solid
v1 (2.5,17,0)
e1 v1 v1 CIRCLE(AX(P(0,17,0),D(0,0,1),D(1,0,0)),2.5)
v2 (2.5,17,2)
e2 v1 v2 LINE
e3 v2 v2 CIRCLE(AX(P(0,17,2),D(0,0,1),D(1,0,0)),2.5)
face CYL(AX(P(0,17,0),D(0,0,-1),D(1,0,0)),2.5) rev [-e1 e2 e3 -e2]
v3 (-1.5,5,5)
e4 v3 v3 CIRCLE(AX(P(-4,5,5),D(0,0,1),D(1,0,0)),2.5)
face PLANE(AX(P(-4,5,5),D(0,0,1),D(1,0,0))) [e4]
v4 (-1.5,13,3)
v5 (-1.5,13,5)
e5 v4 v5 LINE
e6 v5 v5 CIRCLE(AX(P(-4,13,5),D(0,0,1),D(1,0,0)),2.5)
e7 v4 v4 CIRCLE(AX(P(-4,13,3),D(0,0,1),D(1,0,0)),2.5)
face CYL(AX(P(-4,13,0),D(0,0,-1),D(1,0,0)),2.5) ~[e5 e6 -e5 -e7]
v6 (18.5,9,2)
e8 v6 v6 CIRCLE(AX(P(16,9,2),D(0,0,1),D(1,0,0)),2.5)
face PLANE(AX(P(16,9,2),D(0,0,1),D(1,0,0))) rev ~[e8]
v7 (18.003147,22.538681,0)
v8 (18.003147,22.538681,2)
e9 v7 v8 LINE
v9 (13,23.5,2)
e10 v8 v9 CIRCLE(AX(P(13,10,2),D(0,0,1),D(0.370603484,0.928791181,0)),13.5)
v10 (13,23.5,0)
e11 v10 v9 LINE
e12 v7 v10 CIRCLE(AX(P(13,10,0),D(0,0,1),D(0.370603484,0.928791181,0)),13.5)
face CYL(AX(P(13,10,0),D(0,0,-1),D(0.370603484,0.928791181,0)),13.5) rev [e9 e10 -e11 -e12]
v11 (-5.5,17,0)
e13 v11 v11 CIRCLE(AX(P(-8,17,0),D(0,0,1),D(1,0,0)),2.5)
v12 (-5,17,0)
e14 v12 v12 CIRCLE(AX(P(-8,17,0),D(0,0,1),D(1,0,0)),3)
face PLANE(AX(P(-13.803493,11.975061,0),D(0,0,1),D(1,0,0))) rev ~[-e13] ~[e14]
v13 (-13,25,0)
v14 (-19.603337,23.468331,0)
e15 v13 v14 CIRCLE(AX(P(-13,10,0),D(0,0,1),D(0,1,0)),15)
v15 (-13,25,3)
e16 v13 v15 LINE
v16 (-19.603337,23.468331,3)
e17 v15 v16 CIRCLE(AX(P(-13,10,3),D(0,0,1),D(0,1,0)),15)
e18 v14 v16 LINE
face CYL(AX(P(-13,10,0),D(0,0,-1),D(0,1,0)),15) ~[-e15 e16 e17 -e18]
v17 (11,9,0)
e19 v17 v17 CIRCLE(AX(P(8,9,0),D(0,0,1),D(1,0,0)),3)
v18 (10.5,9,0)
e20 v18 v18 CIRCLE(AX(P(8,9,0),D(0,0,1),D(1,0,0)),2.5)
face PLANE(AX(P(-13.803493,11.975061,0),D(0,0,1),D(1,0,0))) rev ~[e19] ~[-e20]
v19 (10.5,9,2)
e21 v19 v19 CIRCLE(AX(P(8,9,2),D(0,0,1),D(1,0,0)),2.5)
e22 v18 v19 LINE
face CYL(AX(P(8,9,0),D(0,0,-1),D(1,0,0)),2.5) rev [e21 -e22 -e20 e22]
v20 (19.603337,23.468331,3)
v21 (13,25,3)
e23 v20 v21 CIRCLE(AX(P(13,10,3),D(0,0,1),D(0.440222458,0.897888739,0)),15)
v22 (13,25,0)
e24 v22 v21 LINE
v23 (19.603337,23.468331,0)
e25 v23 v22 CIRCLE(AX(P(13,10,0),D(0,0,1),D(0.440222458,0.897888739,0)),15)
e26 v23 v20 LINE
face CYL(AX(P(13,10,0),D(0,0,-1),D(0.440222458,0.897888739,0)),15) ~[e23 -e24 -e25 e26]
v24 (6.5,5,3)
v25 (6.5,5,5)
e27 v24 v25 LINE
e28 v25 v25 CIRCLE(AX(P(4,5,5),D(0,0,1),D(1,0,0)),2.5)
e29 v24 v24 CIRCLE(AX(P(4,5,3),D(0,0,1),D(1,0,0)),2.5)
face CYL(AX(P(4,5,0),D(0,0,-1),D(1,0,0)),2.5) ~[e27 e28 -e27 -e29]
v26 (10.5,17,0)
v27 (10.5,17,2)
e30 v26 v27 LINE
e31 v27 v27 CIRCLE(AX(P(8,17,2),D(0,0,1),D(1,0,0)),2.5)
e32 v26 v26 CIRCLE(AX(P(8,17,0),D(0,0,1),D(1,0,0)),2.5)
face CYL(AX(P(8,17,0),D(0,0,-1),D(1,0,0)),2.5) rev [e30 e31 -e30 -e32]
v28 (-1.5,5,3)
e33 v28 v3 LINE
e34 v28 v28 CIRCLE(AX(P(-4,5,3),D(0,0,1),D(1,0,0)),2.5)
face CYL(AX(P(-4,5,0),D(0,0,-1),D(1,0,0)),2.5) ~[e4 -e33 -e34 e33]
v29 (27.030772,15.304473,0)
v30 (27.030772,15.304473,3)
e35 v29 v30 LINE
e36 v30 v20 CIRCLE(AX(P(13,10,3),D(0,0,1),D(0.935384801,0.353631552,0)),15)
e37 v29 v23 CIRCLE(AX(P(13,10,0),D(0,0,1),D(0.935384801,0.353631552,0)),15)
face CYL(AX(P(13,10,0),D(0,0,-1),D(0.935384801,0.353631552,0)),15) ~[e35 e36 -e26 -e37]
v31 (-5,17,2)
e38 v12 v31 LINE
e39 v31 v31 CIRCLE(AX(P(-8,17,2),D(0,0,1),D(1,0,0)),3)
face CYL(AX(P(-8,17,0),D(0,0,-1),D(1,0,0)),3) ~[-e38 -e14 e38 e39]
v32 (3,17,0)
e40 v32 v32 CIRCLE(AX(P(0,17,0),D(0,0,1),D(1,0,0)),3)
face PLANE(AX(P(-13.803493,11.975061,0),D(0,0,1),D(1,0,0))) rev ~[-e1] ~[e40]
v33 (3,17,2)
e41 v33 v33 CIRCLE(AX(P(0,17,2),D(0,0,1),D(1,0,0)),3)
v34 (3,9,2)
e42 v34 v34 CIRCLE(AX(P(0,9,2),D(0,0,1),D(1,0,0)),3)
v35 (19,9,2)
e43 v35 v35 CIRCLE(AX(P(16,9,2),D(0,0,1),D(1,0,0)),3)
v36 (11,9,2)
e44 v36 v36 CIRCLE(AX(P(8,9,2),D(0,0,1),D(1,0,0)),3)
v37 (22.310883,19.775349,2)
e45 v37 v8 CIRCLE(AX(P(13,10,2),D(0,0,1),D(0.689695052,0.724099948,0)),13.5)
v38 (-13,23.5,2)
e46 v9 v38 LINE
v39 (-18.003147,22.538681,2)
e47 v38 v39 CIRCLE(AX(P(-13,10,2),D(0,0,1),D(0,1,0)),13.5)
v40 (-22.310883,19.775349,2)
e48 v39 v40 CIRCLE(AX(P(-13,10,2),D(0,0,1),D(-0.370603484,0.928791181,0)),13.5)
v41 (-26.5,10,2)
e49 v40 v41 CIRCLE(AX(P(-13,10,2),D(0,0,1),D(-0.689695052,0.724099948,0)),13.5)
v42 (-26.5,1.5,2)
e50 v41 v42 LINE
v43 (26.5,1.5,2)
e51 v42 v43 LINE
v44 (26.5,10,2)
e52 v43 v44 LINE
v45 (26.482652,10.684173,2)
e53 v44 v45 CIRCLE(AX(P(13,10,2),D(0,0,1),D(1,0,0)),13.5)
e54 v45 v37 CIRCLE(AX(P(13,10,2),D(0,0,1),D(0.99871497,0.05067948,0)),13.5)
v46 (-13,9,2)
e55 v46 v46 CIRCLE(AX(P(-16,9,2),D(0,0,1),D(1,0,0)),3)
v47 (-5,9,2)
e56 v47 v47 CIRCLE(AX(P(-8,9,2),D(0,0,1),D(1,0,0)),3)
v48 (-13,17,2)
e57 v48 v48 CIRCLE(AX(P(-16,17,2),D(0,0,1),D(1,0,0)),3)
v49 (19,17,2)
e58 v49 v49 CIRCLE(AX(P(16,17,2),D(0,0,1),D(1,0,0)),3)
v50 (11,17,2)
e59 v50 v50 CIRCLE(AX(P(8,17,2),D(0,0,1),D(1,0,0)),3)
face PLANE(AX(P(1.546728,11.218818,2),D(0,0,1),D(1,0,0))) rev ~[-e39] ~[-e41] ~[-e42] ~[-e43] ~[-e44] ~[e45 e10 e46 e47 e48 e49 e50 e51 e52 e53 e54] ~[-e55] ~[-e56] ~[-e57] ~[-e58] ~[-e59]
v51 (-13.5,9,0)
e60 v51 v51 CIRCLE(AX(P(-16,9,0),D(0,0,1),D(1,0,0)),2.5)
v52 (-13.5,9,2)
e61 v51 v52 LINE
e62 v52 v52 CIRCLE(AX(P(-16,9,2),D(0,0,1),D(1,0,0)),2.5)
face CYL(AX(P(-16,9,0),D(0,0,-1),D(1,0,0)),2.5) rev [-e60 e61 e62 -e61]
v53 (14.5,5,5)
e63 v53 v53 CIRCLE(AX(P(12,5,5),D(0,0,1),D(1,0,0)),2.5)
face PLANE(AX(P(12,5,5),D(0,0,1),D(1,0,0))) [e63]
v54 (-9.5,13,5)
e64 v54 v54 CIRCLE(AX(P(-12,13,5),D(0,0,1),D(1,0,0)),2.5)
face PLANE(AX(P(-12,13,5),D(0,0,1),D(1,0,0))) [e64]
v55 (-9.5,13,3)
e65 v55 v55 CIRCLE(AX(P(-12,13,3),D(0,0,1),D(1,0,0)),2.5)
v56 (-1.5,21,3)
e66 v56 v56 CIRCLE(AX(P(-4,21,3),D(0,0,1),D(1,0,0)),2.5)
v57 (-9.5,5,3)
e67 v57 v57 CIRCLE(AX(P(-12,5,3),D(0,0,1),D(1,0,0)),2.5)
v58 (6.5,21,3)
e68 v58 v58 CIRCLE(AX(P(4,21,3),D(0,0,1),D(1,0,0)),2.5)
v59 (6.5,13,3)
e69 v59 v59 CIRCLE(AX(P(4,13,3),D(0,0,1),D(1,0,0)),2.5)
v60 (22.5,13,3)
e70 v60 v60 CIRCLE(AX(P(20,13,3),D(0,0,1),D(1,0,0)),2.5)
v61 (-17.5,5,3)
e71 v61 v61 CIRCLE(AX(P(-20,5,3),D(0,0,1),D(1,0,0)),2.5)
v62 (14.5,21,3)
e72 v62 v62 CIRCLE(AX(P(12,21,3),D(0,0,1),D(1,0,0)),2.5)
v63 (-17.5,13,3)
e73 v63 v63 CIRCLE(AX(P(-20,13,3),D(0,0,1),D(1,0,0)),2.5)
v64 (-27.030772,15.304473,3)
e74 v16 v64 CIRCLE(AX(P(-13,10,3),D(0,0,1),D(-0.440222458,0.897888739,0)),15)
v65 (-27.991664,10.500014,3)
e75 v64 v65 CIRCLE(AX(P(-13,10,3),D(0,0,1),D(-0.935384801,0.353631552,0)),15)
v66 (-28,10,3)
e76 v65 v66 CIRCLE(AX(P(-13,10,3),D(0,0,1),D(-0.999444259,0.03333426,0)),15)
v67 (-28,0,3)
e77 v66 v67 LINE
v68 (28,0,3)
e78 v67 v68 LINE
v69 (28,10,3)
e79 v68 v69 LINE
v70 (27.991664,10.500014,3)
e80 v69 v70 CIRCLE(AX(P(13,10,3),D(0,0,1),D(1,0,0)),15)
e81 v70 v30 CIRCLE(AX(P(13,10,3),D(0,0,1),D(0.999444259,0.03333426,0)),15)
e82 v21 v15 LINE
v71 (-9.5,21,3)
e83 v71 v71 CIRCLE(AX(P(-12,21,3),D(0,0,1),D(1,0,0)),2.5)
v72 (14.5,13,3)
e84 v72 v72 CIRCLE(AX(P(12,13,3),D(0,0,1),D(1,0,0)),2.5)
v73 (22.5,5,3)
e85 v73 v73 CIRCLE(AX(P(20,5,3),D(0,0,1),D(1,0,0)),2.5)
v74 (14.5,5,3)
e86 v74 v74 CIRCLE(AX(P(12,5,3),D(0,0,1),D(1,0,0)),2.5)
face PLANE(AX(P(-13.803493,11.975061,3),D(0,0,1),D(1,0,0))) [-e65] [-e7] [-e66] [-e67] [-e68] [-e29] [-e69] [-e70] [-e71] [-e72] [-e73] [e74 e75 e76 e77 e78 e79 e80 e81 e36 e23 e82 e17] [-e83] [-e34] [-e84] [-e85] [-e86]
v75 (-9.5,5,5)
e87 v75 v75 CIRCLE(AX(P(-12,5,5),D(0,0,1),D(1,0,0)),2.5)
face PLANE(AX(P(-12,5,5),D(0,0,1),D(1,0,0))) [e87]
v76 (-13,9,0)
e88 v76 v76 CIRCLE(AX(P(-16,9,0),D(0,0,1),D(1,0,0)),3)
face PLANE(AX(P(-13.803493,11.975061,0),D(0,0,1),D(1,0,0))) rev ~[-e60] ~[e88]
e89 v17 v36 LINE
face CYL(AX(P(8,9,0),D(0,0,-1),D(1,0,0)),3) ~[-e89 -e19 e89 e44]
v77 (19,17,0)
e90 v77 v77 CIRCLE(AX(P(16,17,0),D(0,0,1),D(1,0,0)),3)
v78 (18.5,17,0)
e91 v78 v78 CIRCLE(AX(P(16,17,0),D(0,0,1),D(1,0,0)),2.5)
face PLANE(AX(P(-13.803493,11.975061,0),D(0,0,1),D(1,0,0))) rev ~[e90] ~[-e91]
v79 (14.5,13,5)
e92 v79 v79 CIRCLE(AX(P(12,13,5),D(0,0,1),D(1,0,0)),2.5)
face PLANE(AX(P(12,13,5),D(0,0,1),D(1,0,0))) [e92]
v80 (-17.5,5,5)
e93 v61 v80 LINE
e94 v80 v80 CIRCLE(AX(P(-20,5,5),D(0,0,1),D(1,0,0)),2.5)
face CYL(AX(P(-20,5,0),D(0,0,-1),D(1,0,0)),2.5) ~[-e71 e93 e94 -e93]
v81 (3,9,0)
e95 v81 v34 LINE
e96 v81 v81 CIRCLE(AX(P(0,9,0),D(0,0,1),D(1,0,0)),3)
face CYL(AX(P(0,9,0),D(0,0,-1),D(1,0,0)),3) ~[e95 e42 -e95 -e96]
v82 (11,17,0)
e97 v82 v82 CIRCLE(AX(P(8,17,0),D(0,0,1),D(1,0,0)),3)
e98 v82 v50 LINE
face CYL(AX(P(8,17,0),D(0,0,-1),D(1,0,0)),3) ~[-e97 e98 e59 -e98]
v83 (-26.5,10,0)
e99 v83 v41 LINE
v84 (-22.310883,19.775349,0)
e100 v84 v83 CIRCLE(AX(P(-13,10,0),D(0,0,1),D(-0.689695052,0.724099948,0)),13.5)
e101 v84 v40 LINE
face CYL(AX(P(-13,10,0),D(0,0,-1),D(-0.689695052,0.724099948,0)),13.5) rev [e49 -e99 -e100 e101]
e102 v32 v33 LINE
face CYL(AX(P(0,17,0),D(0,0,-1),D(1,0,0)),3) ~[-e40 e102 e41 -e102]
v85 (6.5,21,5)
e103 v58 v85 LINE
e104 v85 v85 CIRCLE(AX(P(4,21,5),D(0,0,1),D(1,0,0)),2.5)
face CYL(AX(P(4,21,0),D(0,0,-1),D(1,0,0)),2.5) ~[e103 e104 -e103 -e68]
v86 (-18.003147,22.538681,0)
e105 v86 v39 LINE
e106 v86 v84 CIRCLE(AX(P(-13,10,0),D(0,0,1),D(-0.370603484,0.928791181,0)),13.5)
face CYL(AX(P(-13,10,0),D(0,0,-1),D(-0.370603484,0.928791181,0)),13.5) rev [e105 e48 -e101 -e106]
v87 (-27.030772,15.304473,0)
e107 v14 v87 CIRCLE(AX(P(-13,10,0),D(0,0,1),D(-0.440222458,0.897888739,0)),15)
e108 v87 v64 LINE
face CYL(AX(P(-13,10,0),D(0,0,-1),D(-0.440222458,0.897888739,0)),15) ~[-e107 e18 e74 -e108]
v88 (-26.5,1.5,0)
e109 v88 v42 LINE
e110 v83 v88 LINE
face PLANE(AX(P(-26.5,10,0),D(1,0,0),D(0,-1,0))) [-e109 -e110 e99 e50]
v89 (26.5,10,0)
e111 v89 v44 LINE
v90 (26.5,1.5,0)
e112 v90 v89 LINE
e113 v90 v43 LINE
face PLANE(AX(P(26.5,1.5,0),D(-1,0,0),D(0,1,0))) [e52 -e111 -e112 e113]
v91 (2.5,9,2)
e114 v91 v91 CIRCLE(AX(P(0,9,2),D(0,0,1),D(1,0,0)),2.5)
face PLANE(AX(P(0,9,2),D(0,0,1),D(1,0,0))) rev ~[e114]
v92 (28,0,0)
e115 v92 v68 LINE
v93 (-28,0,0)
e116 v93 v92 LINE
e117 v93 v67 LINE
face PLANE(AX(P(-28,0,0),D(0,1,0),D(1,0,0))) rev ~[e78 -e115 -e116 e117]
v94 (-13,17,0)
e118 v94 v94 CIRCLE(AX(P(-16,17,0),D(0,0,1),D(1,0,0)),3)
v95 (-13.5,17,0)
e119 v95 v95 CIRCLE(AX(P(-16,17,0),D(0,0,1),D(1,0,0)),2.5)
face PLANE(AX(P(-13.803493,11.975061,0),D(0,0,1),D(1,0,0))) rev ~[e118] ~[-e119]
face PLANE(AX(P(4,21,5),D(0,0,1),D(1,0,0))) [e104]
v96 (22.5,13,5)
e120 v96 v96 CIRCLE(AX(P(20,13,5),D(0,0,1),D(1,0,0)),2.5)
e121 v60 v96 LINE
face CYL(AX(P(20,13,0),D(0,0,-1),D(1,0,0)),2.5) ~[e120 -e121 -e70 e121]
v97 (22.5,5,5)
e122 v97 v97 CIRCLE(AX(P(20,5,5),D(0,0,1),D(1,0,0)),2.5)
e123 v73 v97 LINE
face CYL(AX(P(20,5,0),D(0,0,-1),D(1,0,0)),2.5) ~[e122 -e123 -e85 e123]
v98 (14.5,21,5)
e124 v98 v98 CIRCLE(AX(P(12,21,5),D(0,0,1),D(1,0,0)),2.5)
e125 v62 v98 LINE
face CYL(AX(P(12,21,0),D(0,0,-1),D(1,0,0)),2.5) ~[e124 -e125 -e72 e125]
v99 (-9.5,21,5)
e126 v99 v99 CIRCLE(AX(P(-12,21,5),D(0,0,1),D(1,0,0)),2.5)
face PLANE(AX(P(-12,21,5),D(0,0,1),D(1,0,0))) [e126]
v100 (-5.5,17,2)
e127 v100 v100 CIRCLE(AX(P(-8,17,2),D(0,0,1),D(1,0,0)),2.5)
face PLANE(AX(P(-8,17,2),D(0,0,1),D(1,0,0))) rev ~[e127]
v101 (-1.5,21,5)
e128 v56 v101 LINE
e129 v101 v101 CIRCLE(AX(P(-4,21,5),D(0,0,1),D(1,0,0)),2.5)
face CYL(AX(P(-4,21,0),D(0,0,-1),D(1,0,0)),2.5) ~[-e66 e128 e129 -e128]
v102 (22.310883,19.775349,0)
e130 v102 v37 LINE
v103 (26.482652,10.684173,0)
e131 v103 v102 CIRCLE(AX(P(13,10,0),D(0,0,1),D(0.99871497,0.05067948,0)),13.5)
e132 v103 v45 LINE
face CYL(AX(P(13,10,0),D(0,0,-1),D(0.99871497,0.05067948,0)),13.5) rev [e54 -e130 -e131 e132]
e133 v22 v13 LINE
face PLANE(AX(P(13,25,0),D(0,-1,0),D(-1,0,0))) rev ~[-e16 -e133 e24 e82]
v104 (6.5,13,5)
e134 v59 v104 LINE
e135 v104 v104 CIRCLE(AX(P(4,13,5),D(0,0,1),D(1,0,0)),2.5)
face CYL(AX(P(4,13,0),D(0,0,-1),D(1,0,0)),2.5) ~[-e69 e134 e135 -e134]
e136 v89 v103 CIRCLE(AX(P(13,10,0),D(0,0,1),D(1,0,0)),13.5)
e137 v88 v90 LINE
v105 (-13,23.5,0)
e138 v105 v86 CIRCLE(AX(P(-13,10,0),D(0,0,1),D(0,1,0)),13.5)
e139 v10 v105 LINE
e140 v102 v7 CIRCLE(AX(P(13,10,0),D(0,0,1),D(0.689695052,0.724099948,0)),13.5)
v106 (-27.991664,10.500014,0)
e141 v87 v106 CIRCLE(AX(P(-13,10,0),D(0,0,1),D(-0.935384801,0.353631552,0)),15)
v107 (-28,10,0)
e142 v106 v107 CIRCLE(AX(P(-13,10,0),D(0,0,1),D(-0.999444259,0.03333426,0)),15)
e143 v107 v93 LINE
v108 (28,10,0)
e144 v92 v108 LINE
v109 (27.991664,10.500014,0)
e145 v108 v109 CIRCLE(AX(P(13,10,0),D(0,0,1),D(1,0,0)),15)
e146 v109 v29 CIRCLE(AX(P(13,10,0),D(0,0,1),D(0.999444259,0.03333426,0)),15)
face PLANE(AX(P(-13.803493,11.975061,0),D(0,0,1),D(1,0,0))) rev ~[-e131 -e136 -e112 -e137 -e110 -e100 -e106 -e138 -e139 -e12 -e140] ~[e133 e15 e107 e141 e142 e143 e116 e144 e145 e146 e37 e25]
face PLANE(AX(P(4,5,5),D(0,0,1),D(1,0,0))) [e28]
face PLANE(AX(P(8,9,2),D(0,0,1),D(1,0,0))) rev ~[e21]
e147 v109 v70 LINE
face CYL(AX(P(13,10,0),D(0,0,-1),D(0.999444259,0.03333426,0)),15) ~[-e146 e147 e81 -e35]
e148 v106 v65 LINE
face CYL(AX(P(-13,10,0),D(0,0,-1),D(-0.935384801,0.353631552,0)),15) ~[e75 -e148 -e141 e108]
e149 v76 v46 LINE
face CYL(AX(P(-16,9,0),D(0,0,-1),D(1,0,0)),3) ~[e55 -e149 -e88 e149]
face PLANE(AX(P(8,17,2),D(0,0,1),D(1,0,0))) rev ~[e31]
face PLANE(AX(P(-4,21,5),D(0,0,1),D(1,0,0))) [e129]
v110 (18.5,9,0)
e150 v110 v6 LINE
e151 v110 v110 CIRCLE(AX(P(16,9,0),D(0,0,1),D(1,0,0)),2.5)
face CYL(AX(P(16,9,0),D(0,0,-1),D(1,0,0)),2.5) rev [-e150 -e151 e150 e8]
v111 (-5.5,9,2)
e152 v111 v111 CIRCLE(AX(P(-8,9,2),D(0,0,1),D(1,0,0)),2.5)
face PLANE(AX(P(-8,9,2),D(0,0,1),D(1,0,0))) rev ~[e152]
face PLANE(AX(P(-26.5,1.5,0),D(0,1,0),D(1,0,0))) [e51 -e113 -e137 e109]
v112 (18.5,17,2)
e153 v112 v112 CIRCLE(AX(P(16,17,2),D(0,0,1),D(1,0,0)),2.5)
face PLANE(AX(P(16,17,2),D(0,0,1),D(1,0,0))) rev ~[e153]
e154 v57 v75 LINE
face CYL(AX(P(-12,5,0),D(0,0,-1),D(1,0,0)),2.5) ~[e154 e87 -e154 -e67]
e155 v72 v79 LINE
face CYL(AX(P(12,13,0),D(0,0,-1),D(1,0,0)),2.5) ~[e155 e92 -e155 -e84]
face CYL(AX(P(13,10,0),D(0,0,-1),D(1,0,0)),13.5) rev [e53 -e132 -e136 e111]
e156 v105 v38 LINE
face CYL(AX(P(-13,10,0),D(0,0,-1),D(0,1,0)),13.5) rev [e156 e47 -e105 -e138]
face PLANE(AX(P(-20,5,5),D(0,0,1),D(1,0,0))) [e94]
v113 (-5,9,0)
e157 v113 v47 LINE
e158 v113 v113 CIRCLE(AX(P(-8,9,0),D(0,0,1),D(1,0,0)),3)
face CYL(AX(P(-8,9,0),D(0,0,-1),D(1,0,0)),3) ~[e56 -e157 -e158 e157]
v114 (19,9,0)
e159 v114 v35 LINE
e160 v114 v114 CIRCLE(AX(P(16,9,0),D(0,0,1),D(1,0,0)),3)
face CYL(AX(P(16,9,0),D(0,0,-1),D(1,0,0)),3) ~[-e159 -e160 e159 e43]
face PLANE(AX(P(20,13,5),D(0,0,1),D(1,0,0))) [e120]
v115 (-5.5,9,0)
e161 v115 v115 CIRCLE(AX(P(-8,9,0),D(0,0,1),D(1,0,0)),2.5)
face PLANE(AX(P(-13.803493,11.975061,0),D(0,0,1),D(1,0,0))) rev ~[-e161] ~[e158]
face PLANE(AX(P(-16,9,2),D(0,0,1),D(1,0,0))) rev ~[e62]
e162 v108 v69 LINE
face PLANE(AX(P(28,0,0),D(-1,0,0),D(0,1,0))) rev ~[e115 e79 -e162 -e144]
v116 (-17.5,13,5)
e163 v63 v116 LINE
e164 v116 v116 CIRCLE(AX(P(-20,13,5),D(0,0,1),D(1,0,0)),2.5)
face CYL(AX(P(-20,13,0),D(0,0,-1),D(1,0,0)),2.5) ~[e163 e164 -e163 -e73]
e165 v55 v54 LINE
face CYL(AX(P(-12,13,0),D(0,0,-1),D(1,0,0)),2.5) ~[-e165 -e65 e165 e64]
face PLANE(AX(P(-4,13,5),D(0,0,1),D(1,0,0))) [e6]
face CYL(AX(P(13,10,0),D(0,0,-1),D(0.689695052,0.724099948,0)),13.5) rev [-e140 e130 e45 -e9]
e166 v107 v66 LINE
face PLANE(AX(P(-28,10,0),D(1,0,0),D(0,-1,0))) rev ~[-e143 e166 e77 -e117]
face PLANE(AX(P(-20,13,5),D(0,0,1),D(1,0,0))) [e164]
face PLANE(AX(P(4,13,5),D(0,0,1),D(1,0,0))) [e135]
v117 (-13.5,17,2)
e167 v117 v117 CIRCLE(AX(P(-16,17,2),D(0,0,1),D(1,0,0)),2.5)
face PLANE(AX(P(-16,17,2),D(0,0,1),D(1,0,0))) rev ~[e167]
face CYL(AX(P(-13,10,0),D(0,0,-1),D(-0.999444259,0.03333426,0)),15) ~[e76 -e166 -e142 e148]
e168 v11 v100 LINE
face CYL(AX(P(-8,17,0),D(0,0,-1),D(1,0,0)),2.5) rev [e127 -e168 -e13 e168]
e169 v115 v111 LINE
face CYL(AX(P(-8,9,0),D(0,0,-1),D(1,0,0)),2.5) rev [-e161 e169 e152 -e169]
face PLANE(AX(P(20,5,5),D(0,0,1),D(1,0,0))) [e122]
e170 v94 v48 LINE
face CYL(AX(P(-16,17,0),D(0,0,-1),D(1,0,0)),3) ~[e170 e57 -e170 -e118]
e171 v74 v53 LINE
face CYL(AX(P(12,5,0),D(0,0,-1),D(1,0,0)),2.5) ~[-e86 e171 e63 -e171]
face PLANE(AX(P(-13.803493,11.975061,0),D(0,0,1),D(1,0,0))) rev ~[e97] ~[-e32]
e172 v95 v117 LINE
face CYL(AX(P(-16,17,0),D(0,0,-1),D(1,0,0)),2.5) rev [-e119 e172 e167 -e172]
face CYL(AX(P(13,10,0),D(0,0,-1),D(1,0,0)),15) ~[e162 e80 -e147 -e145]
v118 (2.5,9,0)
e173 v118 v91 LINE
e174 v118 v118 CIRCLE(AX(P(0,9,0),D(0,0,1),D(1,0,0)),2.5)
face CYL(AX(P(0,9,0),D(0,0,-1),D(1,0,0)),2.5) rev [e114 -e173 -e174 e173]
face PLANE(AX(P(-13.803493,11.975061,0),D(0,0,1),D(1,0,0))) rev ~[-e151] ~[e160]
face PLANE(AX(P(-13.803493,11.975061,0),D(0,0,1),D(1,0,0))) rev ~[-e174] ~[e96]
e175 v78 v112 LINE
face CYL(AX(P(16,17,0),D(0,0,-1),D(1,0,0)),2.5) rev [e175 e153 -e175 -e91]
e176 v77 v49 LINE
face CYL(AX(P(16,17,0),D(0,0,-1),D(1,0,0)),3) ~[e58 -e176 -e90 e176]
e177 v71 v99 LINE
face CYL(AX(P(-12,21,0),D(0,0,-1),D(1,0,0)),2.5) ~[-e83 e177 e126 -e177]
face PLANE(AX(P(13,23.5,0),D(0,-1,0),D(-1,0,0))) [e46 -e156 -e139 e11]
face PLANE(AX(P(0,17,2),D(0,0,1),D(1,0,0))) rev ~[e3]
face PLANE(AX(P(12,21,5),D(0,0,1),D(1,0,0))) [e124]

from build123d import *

# Parameters (mm, degrees)
F0_R     = 2.5
F1_DEPTH = 3
F2_DEPTH = 5
F3_R     = 3
F3_R_2   = 2.5
F4_DEPTH = 2


with BuildPart() as f1:
    # F0 (on Top) → F1 (new body)
    with BuildSketch(Plane.XY):
        with BuildLine():
            Line((-28, 0), (0, 0))
            Line((0, 0), (0, 25))
            Line((0, 25), (-13, 25))
            ThreePointArc((-13, 25), (-16.3893239512, 24.6120663547), (-19.6033368631, 23.4683310871))
            ThreePointArc((-19.6033368631, 23.4683310871), (-18.0971524178, 22.6214718865), (-17.5, 21))
            ThreePointArc((-17.5, 21), (-20.3463811518, 18.5241122607), (-22.4040160781, 21.6860806776))
            ThreePointArc((-22.4040160781, 21.6860806776), (-25.1440747457, 18.8046265435), (-27.0307720104, 15.3044732813))
            ThreePointArc((-27.0307720104, 15.3044732813), (-25.9175651302, 14.3832805258), (-25.5, 13))
            ThreePointArc((-25.5, 13), (-26.2292882388, 11.235182769), (-27.991663887, 10.5000138982))
            ThreePointArc((-27.991663887, 10.5000138982), (-27.997915827, 10.2500416911), (-28, 10))
            Line((-28, 10), (-28, 7.5))
            ThreePointArc((-28, 7.5), (-26.232233047, 6.767766953), (-25.5, 5))
            ThreePointArc((-25.5, 5), (-26.232233047, 3.232233047), (-28, 2.5))
            Line((-28, 2.5), (-28, 0))
        make_face()
        with Locations((-20, 5)):
            Circle(F0_R, mode=Mode.SUBTRACT)
        with Locations((-12, 5)):
            Circle(F0_R, mode=Mode.SUBTRACT)
        with Locations((-4, 5)):
            Circle(F0_R, mode=Mode.SUBTRACT)
        with Locations((-20, 13)):
            Circle(F0_R, mode=Mode.SUBTRACT)
        with Locations((-12, 13)):
            Circle(F0_R, mode=Mode.SUBTRACT)
        with Locations((-4, 13)):
            Circle(F0_R, mode=Mode.SUBTRACT)
        with Locations((-12, 21)):
            Circle(F0_R, mode=Mode.SUBTRACT)
        with Locations((-4, 21)):
            Circle(F0_R, mode=Mode.SUBTRACT)
        with BuildLine():
            ThreePointArc((-17.5, 21), (-18.0971524178, 22.6214718865), (-19.6033368631, 23.4683310871))
            ThreePointArc((-19.6033368631, 23.4683310871), (-21.0531323829, 22.654922316), (-22.4040160781, 21.6860806776))
            ThreePointArc((-22.4040160781, 21.6860806776), (-20.3463811518, 18.5241122607), (-17.5, 21))
        make_face()
        with BuildLine():
            Line((0, 25), (0, 0))
            Line((0, 0), (28, 0))
            Line((28, 0), (28, 2.5))
            ThreePointArc((28, 2.5), (25.5, 5), (28, 7.5))
            Line((28, 7.5), (28, 10))
            ThreePointArc((28, 10), (27.997915827, 10.2500416911), (27.991663887, 10.5000138982))
            ThreePointArc((27.991663887, 10.5000138982), (25.5485483108, 12.5097096622), (27.0307720104, 15.3044732813))
            ThreePointArc((27.0307720104, 15.3044732813), (25.1440747457, 18.8046265435), (22.4040160781, 21.6860806776))
            ThreePointArc((22.4040160781, 21.6860806776), (22.4758877393, 21.3463811518), (22.5, 21))
            ThreePointArc((22.5, 21), (18.3785281135, 19.0971524178), (19.6033368631, 23.4683310871))
            ThreePointArc((19.6033368631, 23.4683310871), (16.3893239512, 24.6120663547), (13, 25))
            Line((13, 25), (0, 25))
        make_face()
        with Locations((4, 5)):
            Circle(F0_R, mode=Mode.SUBTRACT)
        with Locations((12, 5)):
            Circle(F0_R, mode=Mode.SUBTRACT)
        with Locations((20, 5)):
            Circle(F0_R, mode=Mode.SUBTRACT)
        with Locations((4, 13)):
            Circle(F0_R, mode=Mode.SUBTRACT)
        with Locations((12, 13)):
            Circle(F0_R, mode=Mode.SUBTRACT)
        with Locations((20, 13)):
            Circle(F0_R, mode=Mode.SUBTRACT)
        with Locations((4, 21)):
            Circle(F0_R, mode=Mode.SUBTRACT)
        with Locations((12, 21)):
            Circle(F0_R, mode=Mode.SUBTRACT)
        with BuildLine():
            ThreePointArc((22.4040160781, 21.6860806776), (21.0531323829, 22.654922316), (19.6033368631, 23.4683310871))
            ThreePointArc((19.6033368631, 23.4683310871), (18.3785281135, 19.0971524178), (22.5, 21))
            ThreePointArc((22.5, 21), (22.4758877393, 21.3463811518), (22.4040160781, 21.6860806776))
        make_face()
        with BuildLine():
            ThreePointArc((-27.0307720104, 15.3044732813), (-27.7087101354, 12.9417420271), (-27.991663887, 10.5000138982))
            ThreePointArc((-27.991663887, 10.5000138982), (-26.2292882388, 11.235182769), (-25.5, 13))
            ThreePointArc((-25.5, 13), (-25.9175651302, 14.3832805258), (-27.0307720104, 15.3044732813))
        make_face()
        with BuildLine():
            Line((-28, 7.5), (-28, 2.5))
            ThreePointArc((-28, 2.5), (-26.232233047, 3.232233047), (-25.5, 5))
            ThreePointArc((-25.5, 5), (-26.232233047, 6.767766953), (-28, 7.5))
        make_face()
        with BuildLine():
            ThreePointArc((28, 7.5), (25.5, 5), (28, 2.5))
            Line((28, 2.5), (28, 7.5))
        make_face()
        with BuildLine():
            ThreePointArc((27.991663887, 10.5000138982), (27.7087101354, 12.9417420271), (27.0307720104, 15.3044732813))
            ThreePointArc((27.0307720104, 15.3044732813), (25.5485483108, 12.5097096622), (27.991663887, 10.5000138982))
        make_face()
    extrude(amount=F1_DEPTH)

    # F0 (on Top) → F2 (join)
    with BuildSketch(Plane.XY):
        with Locations((-20, 13)):
            Circle(F0_R)
        with Locations((-20, 5)):
            Circle(F0_R)
        with Locations((-12, 5)):
            Circle(F0_R)
        with Locations((-12, 13)):
            Circle(F0_R)
        with Locations((-12, 21)):
            Circle(F0_R)
        with Locations((-4, 21)):
            Circle(F0_R)
        with Locations((-4, 13)):
            Circle(F0_R)
        with Locations((-4, 5)):
            Circle(F0_R)
        with Locations((4, 13)):
            Circle(F0_R)
        with Locations((4, 21)):
            Circle(F0_R)
        with Locations((4, 5)):
            Circle(F0_R)
        with Locations((12, 5)):
            Circle(F0_R)
        with Locations((12, 13)):
            Circle(F0_R)
        with Locations((12, 21)):
            Circle(F0_R)
        with Locations((20, 13)):
            Circle(F0_R)
        with Locations((20, 5)):
            Circle(F0_R)
    extrude(amount=F2_DEPTH)

    # F3 (on Top) → F4 (cut)
    with BuildSketch(Plane.XY):
        with BuildLine():
            Line((13, 23.5), (0, 23.5))
            Line((0, 23.5), (-13, 23.5))
            ThreePointArc((-13, 23.5), (-15.5473326534, 23.2574920838), (-18.0031470352, 22.5386809412))
            ThreePointArc((-18.0031470352, 22.5386809412), (-20.2891608484, 21.3630160664), (-22.3108832056, 19.7753492997))
            ThreePointArc((-22.3108832056, 19.7753492997), (-25.4086043388, 15.3175688394), (-26.5, 10))
            Line((-26.5, 10), (-26.5, 1.5))
            Line((-26.5, 1.5), (0, 1.5))
            Line((0, 1.5), (26.5, 1.5))
            Line((26.5, 1.5), (26.5, 7.3416876048))
            ThreePointArc((26.5, 7.3416876048), (21.0000404053, 8.9844298396), (26.4826520886, 10.6841729742))
            ThreePointArc((26.4826520886, 10.6841729742), (25.26982822, 15.6303921225), (22.3108832056, 19.7753492997))
            ThreePointArc((22.3108832056, 19.7753492997), (20.2891608484, 21.3630160664), (18.0031470352, 22.5386809412))
            ThreePointArc((18.0031470352, 22.5386809412), (15.5473326534, 23.2574920838), (13, 23.5))
        make_face()
        with Locations((-16, 9)):
            Circle(F3_R, mode=Mode.SUBTRACT)
        with Locations((-8, 9)):
            Circle(F3_R, mode=Mode.SUBTRACT)
        with Locations((0, 9)):
            Circle(F3_R, mode=Mode.SUBTRACT)
        with Locations((8, 9)):
            Circle(F3_R, mode=Mode.SUBTRACT)
        with Locations((16, 9)):
            Circle(F3_R, mode=Mode.SUBTRACT)
        with Locations((-16, 17)):
            Circle(F3_R, mode=Mode.SUBTRACT)
        with Locations((-8, 17)):
            Circle(F3_R, mode=Mode.SUBTRACT)
        with Locations((0, 17)):
            Circle(F3_R, mode=Mode.SUBTRACT)
        with Locations((8, 17)):
            Circle(F3_R, mode=Mode.SUBTRACT)
        with Locations((16, 17)):
            Circle(F3_R, mode=Mode.SUBTRACT)
        with BuildLine():
            ThreePointArc((26.5, 10), (26.4956623253, 10.342196438), (26.4826520886, 10.6841729742))
            ThreePointArc((26.4826520886, 10.6841729742), (21.0000404053, 8.9844298396), (26.5, 7.3416876048))
            Line((26.5, 7.3416876048), (26.5, 9))
            Line((26.5, 9), (26.5, 10))
        make_face()
        with Locations((24, 9)):
            Circle(F3_R_2, mode=Mode.SUBTRACT)
        with Locations((16, 9)):
            Circle(F3_R_2)
        with Locations((8, 9)):
            Circle(F3_R_2)
        with Locations((8, 17)):
            Circle(F3_R_2)
        with Locations((16, 17)):
            Circle(F3_R_2)
        with Locations((0, 9)):
            Circle(F3_R_2)
        with Locations((-8, 9)):
            Circle(F3_R_2)
        with Locations((-16, 9)):
            Circle(F3_R_2)
        with Locations((-16, 17)):
            Circle(F3_R_2)
        with Locations((-8, 17)):
            Circle(F3_R_2)
        with Locations((0, 17)):
            Circle(F3_R_2)
        with Locations((24, 9)):
            Circle(F3_R_2)
    extrude(amount=F4_DEPTH, mode=Mode.SUBTRACT)


solid = f1.part
